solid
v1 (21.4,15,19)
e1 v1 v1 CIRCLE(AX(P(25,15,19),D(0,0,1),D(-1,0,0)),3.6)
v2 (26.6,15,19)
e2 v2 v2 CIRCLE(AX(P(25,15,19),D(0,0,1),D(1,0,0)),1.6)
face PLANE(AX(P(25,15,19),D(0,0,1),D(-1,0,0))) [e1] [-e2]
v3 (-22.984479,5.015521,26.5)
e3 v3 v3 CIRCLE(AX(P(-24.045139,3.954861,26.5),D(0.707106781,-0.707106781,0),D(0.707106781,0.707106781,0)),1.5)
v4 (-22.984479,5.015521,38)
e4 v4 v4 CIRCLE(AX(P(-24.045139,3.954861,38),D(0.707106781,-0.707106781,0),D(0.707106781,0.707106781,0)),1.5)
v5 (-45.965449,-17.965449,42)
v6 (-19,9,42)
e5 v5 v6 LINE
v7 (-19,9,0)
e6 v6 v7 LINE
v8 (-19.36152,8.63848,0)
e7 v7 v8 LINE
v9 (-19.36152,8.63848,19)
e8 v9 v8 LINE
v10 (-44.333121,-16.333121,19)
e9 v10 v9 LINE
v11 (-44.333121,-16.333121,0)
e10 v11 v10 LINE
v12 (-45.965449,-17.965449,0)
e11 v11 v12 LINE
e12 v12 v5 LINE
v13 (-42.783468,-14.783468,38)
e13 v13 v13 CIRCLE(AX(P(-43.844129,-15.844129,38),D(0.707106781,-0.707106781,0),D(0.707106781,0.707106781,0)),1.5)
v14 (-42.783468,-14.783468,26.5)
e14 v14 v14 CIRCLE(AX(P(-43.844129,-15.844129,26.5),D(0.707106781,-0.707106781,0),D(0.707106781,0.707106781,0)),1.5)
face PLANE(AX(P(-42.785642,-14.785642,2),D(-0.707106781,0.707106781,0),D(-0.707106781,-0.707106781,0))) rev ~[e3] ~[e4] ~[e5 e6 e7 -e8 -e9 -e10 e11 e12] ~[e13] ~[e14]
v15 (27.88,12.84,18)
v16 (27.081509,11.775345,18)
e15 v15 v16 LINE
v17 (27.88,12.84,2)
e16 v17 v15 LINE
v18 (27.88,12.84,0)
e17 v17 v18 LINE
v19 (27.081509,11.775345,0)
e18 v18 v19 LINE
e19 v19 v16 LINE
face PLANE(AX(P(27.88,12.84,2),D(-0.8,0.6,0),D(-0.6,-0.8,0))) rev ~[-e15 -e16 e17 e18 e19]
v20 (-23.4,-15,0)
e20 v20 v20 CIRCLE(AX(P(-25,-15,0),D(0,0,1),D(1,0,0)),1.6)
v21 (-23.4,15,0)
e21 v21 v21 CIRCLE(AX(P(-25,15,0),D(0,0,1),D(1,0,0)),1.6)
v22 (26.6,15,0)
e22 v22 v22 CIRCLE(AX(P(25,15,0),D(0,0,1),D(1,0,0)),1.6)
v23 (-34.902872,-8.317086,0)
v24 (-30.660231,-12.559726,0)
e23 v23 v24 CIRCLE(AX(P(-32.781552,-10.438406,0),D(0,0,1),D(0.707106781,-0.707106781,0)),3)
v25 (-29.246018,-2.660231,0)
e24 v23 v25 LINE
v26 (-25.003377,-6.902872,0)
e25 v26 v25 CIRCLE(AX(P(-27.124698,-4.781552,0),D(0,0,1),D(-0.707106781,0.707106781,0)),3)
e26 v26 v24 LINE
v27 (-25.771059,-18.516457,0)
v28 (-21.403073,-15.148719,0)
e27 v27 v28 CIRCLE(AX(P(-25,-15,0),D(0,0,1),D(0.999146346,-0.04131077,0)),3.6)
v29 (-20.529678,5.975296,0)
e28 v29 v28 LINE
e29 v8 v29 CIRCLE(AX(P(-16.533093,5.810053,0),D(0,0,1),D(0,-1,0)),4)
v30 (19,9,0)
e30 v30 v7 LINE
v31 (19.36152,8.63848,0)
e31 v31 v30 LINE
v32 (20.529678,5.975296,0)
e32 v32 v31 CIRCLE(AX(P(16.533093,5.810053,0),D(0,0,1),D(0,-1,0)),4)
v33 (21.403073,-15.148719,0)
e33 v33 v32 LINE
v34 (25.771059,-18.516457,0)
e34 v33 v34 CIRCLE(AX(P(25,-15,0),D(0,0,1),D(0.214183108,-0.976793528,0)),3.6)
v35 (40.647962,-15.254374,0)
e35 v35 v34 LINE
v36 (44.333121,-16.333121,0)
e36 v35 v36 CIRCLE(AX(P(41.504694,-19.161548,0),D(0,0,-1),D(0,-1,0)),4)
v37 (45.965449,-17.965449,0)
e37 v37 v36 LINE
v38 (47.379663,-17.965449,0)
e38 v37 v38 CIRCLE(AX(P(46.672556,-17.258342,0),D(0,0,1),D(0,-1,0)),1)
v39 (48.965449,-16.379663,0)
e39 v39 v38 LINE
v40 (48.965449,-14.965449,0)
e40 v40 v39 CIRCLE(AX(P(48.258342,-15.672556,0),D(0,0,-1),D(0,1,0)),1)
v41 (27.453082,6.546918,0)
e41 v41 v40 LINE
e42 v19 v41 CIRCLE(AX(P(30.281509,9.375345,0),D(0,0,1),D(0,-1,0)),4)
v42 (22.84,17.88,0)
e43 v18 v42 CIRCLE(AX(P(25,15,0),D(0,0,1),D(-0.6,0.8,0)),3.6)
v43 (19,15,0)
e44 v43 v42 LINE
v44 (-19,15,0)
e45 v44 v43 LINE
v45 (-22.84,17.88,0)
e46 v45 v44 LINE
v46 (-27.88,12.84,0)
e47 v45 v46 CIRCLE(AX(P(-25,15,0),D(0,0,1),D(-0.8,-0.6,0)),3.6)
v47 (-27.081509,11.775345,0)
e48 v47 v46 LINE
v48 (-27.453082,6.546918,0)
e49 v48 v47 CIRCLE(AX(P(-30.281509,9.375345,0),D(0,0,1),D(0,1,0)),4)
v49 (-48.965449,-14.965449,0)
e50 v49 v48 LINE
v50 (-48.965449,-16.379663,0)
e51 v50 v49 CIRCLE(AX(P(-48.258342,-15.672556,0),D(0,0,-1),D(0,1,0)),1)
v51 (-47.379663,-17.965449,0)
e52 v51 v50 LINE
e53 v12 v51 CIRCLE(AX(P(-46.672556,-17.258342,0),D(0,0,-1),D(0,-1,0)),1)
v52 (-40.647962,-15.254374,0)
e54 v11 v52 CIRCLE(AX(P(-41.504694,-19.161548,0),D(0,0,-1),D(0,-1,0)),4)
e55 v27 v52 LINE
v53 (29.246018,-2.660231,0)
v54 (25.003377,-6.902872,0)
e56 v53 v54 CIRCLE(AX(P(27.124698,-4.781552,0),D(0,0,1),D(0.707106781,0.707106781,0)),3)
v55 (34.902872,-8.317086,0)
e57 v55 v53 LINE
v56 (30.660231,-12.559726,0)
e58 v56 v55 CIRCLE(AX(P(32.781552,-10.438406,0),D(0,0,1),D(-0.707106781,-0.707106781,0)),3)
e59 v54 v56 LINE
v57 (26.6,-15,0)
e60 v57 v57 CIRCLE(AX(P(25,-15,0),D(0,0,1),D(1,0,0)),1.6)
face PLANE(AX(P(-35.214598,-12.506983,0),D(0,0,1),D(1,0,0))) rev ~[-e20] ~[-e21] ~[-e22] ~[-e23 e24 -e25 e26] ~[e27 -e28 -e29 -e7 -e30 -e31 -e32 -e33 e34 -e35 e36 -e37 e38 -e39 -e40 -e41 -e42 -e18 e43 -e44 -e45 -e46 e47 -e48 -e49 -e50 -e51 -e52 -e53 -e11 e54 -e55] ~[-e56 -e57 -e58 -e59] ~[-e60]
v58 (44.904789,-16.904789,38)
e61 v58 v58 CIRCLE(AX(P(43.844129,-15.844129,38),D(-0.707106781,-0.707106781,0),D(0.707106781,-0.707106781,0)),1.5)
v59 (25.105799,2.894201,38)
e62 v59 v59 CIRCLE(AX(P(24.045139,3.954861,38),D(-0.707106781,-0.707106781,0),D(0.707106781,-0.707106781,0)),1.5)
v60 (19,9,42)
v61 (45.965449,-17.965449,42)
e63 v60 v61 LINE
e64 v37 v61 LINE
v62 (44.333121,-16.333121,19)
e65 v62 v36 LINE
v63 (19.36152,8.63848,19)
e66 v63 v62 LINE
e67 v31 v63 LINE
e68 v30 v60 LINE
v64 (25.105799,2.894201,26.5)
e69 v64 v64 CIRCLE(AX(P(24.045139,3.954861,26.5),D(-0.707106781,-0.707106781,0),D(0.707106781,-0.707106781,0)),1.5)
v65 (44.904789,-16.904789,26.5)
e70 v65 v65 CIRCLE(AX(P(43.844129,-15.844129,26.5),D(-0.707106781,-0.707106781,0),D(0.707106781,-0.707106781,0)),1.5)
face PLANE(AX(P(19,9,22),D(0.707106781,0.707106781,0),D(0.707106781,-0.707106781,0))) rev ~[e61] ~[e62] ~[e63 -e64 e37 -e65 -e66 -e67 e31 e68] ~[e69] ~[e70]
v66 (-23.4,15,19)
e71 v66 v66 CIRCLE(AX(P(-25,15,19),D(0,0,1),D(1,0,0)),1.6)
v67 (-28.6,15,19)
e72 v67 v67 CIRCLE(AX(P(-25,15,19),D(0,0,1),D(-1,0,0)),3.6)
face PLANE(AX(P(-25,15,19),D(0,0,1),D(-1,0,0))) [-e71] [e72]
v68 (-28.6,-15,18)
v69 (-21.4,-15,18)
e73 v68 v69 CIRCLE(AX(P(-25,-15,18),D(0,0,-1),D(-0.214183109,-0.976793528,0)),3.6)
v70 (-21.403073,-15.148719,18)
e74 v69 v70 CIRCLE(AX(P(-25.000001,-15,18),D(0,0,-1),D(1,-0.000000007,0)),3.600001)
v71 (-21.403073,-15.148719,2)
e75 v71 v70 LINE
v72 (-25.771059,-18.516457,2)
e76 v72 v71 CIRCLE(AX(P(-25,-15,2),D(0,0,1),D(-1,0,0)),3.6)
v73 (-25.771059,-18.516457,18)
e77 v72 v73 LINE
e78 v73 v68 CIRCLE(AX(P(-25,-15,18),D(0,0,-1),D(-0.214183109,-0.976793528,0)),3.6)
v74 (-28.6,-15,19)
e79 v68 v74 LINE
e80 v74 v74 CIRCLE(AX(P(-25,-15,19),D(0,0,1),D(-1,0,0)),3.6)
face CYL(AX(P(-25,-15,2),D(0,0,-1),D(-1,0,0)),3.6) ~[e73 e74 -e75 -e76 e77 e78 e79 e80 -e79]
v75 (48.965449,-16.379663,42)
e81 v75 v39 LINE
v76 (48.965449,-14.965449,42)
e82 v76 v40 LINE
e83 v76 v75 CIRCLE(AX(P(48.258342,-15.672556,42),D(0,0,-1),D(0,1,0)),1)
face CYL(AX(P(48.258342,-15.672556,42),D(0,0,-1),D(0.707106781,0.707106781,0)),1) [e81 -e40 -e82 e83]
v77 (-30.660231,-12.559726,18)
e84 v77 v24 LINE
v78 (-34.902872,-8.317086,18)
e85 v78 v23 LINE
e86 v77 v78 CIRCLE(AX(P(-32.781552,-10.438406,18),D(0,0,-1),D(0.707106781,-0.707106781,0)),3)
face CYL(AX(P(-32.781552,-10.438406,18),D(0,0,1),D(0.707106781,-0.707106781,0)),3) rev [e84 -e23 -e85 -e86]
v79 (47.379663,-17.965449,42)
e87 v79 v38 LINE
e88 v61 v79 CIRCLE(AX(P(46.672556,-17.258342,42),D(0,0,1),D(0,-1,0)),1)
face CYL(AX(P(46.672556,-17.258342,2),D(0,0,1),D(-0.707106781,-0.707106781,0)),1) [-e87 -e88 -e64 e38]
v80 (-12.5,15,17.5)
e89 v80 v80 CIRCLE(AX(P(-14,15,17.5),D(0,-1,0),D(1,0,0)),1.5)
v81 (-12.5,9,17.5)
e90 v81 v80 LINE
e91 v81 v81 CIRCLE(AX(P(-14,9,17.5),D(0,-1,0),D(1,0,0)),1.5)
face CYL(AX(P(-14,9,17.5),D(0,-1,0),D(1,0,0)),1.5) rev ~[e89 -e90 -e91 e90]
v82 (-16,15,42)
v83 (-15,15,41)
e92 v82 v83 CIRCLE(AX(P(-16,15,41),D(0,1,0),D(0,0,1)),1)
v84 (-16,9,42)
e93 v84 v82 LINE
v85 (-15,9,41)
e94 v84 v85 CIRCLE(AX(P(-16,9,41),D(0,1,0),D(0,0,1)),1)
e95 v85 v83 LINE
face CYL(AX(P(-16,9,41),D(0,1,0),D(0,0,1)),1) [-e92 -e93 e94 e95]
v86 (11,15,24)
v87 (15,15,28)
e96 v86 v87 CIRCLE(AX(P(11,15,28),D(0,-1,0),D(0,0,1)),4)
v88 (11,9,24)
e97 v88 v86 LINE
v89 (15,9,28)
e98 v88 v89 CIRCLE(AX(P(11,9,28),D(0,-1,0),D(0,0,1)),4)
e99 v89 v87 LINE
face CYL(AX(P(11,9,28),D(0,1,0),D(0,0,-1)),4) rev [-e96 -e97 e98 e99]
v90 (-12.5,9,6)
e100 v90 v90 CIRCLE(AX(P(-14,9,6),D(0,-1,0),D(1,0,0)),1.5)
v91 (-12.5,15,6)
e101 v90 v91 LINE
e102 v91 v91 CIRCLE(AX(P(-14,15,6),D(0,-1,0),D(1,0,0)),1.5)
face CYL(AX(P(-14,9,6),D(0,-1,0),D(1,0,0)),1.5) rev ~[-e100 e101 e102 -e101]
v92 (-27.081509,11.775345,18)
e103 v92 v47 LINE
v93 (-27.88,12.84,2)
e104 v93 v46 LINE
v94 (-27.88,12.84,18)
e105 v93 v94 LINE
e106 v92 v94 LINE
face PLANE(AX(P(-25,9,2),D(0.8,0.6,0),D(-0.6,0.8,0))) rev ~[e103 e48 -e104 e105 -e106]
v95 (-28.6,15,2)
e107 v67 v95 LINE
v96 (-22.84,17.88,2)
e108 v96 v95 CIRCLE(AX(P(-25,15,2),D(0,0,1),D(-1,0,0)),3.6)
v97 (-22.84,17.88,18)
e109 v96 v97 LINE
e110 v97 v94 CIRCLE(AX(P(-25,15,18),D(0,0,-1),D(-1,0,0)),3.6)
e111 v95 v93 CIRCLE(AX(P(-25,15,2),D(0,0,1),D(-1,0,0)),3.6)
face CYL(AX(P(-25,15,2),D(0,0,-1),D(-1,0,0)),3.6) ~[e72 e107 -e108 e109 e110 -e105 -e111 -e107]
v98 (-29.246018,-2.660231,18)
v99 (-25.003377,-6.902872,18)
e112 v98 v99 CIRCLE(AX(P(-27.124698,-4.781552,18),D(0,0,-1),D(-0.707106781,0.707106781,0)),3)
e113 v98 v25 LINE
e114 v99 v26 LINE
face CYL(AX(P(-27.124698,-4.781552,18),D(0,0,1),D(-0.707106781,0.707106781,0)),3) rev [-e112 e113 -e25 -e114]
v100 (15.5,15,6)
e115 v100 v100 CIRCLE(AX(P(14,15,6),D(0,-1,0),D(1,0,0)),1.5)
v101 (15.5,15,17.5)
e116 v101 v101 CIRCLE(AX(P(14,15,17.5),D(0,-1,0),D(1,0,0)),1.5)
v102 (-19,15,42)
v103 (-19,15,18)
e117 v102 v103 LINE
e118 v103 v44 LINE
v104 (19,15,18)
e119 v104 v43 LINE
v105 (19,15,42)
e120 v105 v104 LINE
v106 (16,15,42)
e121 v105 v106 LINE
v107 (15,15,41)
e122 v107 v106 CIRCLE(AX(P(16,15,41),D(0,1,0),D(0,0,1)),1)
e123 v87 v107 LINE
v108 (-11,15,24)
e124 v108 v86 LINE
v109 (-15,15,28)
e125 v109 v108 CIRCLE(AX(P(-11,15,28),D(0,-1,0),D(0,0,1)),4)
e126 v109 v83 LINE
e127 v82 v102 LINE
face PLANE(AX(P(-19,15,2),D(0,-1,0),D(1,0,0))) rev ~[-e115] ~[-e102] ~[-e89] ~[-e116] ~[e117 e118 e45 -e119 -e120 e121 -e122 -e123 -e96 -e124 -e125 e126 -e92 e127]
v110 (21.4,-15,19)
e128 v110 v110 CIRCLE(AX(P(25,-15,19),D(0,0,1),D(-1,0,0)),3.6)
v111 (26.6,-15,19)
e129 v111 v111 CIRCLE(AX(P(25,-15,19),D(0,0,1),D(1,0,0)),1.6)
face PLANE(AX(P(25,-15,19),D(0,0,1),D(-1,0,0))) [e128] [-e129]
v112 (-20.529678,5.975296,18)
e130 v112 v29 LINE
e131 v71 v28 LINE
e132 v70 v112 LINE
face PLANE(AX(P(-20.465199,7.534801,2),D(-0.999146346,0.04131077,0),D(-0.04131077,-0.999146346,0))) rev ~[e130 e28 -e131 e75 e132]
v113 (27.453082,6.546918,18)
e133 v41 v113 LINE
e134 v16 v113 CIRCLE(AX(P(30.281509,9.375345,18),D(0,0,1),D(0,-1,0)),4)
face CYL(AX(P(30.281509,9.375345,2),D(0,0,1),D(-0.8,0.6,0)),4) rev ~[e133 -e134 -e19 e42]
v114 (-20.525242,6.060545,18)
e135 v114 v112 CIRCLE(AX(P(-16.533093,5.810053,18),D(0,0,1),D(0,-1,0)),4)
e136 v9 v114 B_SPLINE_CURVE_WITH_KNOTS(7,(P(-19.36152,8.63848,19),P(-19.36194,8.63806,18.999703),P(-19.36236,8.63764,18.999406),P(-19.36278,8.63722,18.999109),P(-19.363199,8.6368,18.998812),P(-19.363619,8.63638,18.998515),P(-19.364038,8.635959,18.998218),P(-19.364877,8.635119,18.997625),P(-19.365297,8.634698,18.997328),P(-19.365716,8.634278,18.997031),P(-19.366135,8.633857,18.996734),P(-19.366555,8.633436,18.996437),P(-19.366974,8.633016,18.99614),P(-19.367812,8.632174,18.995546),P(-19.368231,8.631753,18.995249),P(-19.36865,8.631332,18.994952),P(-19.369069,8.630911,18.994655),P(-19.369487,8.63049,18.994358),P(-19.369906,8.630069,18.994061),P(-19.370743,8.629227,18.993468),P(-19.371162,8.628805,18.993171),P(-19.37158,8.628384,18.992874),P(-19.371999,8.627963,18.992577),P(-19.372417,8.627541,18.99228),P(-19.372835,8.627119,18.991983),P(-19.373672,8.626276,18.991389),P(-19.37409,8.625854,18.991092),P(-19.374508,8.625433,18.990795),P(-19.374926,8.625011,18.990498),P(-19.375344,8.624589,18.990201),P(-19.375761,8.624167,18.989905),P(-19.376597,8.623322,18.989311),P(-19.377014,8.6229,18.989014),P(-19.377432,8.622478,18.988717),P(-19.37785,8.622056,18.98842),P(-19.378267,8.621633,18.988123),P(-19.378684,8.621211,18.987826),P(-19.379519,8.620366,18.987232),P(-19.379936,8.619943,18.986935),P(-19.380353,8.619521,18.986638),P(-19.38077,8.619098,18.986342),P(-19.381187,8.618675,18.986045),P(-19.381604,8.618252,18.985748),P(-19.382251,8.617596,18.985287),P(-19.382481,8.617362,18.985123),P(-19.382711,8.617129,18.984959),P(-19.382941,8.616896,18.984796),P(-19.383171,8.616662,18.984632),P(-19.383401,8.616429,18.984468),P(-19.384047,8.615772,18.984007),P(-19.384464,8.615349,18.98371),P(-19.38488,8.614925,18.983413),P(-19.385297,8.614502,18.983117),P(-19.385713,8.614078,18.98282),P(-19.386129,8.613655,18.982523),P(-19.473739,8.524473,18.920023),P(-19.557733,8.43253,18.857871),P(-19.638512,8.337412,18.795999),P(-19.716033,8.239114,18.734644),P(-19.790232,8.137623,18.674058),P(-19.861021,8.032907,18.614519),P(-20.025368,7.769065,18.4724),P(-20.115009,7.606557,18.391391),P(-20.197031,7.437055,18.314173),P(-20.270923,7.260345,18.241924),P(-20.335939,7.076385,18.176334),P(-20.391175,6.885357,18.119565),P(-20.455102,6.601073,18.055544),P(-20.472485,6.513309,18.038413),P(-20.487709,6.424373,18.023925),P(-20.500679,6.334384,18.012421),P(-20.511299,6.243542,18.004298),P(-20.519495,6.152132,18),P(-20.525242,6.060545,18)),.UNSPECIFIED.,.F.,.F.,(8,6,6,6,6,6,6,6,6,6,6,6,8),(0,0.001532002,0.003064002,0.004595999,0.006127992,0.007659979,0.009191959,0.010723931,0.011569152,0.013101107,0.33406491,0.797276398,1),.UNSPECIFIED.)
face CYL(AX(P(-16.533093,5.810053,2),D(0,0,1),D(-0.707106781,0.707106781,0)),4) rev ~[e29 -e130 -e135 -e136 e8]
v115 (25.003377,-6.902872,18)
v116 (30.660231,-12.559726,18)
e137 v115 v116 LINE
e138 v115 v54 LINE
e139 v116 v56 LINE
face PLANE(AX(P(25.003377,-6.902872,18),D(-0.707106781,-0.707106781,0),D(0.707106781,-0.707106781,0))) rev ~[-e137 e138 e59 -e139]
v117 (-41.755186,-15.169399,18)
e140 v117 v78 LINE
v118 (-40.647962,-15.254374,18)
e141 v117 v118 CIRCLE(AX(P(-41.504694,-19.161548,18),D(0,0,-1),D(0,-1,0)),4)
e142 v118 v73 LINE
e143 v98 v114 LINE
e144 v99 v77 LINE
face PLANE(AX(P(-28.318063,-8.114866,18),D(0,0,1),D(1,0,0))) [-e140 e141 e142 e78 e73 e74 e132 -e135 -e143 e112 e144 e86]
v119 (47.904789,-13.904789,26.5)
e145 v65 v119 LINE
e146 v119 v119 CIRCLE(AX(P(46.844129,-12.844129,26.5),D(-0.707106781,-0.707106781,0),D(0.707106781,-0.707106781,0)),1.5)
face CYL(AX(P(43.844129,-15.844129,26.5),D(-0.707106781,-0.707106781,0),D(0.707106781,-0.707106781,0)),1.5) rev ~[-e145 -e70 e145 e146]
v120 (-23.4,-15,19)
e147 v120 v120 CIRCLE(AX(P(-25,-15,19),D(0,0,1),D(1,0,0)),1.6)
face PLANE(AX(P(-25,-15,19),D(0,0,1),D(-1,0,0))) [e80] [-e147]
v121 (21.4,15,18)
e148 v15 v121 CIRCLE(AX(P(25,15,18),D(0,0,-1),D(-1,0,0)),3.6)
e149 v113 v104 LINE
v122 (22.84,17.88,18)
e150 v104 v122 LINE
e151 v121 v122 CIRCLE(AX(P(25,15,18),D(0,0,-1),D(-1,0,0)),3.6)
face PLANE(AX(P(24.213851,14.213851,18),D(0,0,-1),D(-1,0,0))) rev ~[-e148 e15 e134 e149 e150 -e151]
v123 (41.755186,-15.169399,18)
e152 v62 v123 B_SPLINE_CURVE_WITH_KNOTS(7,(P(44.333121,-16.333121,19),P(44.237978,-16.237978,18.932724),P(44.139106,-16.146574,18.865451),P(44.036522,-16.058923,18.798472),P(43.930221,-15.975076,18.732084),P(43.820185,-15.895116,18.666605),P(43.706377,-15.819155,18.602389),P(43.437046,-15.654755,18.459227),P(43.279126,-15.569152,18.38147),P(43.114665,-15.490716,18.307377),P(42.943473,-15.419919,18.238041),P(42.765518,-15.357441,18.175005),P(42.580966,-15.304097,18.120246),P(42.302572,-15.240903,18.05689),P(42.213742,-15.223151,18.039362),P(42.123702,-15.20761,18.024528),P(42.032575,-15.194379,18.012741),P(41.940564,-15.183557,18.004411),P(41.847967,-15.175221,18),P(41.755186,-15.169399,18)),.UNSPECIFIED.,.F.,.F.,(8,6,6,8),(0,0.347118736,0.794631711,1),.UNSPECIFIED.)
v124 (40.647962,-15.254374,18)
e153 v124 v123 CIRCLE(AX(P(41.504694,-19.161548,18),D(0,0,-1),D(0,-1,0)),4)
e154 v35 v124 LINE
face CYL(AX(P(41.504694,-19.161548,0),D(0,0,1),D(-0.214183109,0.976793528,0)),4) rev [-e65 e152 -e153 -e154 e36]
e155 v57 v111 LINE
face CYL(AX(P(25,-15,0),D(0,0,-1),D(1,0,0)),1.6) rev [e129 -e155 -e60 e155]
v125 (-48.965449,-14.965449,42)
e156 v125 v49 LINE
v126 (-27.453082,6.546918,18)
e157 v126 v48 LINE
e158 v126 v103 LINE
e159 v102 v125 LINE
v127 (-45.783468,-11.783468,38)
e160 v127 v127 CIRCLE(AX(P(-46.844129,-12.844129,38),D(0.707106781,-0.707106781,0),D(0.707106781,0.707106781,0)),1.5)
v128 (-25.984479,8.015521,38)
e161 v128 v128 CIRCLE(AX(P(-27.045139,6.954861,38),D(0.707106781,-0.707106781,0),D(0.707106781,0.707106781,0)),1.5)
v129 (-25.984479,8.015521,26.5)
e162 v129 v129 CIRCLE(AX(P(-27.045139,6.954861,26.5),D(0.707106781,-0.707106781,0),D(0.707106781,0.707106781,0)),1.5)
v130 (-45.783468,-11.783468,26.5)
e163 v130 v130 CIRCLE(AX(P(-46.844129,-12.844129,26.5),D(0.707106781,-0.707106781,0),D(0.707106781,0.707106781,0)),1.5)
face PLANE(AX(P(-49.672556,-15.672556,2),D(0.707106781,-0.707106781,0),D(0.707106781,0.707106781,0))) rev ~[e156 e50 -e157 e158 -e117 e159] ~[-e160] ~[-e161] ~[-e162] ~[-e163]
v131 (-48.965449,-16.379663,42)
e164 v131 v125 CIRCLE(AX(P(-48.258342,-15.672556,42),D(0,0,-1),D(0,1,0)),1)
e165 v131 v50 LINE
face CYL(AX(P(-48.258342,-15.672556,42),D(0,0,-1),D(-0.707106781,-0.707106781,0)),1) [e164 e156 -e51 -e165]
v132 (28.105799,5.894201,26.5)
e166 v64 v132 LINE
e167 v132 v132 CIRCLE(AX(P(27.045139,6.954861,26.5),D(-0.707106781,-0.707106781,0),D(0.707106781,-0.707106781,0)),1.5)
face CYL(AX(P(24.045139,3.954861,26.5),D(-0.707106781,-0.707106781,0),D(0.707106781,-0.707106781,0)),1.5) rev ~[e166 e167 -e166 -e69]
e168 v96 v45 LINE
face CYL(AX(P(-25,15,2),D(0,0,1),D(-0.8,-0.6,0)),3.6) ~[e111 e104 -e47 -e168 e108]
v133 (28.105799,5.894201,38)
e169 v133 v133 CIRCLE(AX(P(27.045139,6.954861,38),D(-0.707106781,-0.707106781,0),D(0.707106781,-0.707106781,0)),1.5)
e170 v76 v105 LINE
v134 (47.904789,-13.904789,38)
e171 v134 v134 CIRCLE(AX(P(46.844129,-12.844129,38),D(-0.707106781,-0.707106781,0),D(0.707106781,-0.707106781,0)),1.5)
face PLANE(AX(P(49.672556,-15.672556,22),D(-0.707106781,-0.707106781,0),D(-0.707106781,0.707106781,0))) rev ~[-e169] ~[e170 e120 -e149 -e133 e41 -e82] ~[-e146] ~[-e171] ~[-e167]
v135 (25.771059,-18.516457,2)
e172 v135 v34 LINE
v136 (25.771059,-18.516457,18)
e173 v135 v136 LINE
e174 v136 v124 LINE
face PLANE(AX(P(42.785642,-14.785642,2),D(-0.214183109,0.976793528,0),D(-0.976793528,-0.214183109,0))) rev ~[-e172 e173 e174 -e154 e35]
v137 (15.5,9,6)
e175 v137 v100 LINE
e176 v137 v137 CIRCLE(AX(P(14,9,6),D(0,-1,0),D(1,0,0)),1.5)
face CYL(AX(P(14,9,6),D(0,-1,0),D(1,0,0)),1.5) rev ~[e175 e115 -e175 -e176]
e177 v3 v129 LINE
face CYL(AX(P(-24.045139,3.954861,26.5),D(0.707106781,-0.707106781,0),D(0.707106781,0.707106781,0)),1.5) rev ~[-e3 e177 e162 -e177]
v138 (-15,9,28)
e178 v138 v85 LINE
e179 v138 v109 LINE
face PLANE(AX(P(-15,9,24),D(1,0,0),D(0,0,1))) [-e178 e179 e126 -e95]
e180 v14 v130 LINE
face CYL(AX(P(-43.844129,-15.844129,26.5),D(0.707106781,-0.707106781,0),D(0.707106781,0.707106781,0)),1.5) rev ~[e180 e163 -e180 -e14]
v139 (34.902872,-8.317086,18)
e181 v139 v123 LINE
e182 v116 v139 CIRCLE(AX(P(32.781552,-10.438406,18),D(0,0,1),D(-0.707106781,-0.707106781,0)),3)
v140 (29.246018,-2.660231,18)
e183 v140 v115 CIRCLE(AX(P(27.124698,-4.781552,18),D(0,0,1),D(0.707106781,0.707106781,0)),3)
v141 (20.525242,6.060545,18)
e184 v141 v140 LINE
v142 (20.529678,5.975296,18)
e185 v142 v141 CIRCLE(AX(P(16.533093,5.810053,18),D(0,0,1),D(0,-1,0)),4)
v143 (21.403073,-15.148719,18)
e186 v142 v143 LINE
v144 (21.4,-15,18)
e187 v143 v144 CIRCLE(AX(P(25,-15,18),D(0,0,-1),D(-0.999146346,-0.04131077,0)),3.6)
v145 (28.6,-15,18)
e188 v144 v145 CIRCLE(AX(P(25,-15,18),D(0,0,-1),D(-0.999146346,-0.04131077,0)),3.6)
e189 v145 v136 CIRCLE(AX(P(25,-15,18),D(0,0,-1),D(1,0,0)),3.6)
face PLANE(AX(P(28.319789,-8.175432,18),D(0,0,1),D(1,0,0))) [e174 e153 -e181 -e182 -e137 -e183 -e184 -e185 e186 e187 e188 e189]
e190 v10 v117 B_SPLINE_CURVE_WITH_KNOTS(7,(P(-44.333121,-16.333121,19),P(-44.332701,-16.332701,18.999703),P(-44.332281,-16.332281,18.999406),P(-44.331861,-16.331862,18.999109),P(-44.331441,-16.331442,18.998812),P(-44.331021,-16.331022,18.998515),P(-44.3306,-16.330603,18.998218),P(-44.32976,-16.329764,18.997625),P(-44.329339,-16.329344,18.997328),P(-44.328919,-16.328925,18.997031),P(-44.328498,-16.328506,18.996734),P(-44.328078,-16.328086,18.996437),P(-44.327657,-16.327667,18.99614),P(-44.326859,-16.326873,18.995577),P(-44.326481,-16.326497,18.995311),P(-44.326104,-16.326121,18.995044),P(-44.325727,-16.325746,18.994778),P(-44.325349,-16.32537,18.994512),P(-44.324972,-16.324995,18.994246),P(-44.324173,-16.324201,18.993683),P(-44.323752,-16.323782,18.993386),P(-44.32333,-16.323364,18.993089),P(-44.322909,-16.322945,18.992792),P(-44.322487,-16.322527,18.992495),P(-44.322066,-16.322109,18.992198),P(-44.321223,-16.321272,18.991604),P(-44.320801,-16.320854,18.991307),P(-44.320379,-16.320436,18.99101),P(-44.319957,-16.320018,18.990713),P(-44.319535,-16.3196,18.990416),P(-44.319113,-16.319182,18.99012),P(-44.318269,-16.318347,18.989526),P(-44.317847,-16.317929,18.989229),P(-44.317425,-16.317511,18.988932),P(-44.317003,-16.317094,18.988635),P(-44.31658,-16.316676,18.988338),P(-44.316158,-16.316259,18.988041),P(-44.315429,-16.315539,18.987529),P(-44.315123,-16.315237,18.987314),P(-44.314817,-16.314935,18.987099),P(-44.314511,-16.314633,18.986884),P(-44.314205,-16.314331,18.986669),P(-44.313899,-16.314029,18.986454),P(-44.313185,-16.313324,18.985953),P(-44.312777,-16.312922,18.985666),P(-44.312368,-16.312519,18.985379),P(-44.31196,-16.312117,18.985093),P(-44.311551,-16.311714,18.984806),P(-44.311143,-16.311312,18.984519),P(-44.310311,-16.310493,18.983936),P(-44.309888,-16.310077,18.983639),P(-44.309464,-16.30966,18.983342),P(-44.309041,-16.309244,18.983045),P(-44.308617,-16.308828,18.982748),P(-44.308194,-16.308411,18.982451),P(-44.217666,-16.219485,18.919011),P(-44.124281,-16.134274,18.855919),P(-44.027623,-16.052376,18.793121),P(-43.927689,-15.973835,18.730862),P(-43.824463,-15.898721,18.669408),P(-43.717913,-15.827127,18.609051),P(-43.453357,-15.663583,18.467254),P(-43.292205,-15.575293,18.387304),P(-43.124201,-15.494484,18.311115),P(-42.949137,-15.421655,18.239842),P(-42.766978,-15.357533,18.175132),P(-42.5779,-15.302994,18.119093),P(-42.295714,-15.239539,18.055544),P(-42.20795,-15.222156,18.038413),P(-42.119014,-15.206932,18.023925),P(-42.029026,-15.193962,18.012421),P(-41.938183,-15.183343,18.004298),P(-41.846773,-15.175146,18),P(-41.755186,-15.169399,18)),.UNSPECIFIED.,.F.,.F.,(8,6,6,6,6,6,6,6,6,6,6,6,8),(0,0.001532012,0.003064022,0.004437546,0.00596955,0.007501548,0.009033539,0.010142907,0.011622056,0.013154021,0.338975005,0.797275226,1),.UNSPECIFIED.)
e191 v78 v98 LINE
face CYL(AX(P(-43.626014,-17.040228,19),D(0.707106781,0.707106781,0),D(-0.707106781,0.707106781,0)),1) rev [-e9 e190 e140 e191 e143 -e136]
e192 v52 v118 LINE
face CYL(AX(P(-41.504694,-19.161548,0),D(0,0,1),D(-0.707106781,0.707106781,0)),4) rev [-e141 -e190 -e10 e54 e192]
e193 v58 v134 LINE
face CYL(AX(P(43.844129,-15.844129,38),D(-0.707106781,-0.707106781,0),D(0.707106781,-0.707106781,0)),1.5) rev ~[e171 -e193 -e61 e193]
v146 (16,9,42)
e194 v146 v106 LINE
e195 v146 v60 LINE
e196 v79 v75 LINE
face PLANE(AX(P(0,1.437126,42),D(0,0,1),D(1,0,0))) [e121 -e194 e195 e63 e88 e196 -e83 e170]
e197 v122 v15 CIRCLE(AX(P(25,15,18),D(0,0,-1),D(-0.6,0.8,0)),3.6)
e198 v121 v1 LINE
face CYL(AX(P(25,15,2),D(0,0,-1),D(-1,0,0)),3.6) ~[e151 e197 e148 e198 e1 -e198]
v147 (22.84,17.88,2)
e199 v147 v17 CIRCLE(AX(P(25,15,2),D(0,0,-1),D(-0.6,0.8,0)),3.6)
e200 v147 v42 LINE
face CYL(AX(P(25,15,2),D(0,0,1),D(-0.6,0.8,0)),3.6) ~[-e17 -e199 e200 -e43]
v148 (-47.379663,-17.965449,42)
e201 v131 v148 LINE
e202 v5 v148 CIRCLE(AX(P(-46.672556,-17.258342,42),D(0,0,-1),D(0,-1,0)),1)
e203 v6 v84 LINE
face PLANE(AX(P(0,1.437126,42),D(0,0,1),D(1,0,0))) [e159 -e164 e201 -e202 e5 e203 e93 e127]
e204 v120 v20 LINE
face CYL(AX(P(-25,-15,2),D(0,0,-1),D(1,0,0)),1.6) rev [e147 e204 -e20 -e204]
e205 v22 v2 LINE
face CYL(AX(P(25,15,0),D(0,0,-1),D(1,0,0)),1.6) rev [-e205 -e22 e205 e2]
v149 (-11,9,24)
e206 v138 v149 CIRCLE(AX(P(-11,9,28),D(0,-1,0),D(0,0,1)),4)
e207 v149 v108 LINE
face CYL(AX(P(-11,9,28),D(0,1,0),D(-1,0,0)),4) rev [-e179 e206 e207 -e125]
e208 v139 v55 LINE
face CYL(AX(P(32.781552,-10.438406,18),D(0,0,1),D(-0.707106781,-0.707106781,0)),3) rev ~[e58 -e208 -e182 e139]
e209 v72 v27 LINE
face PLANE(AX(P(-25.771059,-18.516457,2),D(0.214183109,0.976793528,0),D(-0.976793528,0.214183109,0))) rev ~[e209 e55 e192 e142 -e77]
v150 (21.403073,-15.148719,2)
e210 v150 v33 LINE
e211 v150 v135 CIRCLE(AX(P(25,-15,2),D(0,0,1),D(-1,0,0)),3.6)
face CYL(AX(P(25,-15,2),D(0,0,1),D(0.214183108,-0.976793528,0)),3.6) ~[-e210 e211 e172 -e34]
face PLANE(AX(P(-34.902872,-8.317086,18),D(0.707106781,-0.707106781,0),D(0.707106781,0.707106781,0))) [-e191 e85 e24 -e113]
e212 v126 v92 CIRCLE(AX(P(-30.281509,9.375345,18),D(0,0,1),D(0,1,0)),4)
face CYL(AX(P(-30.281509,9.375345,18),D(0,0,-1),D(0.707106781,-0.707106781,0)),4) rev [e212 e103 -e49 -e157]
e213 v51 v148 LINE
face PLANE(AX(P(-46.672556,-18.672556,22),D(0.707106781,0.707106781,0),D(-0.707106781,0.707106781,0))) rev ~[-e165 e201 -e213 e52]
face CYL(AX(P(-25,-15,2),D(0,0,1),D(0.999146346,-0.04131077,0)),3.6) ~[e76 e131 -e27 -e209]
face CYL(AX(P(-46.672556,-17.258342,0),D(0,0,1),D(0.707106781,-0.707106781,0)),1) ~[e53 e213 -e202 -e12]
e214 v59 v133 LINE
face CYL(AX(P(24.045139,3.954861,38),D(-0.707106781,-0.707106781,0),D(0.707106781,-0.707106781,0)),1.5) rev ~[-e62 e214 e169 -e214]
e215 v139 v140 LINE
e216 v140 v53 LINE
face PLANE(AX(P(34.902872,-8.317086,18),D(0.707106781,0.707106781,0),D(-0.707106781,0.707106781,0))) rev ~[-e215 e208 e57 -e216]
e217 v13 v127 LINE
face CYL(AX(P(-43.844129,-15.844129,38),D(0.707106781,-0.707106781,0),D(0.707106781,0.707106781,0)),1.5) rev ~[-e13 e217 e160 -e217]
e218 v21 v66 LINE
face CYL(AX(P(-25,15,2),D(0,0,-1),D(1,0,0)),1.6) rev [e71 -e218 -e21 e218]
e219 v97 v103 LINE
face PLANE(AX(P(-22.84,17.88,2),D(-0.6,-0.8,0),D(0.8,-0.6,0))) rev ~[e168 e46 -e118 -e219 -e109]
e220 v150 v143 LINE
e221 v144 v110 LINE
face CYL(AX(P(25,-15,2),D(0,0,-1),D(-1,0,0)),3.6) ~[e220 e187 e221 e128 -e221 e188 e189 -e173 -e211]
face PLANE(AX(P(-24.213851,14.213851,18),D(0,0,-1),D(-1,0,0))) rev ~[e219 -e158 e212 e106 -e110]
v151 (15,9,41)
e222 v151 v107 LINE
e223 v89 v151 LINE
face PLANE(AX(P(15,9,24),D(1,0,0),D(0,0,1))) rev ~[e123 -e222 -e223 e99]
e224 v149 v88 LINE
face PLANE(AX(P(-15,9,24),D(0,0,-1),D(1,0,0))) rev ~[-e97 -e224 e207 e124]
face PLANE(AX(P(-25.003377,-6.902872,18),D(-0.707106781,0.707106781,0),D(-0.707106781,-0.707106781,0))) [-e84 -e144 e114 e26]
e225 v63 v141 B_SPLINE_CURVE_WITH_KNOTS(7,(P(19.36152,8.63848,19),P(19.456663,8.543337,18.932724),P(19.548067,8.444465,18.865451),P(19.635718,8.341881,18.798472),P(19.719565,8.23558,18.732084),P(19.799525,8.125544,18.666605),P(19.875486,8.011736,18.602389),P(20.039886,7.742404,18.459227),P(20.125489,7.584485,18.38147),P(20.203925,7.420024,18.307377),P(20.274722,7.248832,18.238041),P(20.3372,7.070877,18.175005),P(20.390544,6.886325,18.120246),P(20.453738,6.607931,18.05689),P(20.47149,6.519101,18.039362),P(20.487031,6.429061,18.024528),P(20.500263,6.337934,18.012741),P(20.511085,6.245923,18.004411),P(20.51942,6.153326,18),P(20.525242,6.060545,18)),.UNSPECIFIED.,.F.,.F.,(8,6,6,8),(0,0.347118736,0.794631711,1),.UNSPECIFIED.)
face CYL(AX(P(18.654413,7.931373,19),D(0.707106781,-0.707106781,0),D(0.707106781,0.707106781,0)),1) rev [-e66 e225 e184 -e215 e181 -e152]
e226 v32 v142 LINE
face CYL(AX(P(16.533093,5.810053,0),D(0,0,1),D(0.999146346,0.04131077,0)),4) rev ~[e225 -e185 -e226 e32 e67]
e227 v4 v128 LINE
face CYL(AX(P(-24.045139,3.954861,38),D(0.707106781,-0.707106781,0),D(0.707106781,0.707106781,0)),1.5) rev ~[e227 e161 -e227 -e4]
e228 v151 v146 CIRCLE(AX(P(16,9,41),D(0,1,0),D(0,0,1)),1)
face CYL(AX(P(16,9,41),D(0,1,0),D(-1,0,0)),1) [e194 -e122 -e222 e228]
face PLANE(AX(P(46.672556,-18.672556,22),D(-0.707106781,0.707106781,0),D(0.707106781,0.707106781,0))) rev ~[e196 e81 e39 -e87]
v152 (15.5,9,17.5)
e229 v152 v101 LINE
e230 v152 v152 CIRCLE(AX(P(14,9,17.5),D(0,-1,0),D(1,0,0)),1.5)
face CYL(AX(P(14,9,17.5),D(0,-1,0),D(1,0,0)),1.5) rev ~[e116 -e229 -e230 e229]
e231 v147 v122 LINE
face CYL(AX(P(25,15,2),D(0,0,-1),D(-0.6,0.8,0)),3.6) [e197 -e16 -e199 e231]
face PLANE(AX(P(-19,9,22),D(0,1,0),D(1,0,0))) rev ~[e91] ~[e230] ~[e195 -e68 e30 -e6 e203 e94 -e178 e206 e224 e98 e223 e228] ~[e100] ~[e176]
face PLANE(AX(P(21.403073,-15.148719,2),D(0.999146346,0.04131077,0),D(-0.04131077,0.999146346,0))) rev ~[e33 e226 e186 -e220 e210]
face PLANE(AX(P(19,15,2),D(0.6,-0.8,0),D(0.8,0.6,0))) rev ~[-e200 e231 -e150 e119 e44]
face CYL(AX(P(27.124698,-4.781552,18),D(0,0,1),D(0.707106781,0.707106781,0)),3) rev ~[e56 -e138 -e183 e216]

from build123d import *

# Parameters (mm, degrees)
ESQUISSE1_W             = 58
ESQUISSE1_H             = 38
ESQUISSE1_R             = 1.6
BOSS_EXTRU_1_DEPTH      = 2
BOSS_EXTRU_2_DEPTH      = 20
BOSS_EXTRU_3_DEPTH      = 20
ENL_V_MAT_EXTRU_1_DEPTH = 20
ESQUISSE6_R             = 1.5
ENL_V_MAT_EXTRU_2_DEPTH = 20
ESQUISSE7_R             = 1.5
ENL_V_MAT_EXTRU_3_DEPTH = 20
ESQUISSE8_R             = 1.5
ENL_V_MAT_EXTRU_4_DEPTH = 20
BOSS_EXTRU_5_DEPTH      = 22
ESQUISSE10_W            = 30
ESQUISSE10_H            = 18
ENL_V_MAT_EXTRU_5_DEPTH = 20
ESQUISSE11_R            = 3.6
ESQUISSE11_R_2          = 1.6
BOSS_EXTRU_6_DEPTH      = 17
BOSS_EXTRU_7_DEPTH      = 2
ESQUISSE13_R            = 1.6
BOSS_EXTRU_8_DEPTH      = 16
ENL_V_MAT_EXTRU_6_DEPTH = 16
CONG_1_R                = 4
CONG_2_R                = 1
CONG_3_R                = 1
CONG_4_R                = 1
ENL_V_MAT_EXTRU_7_DEPTH = 58.864879499


with BuildPart() as part:
    # Esquisse1 → Boss.-Extru.1 (new body)
    with BuildSketch(Plane.XY):
        Rectangle(ESQUISSE1_W, ESQUISSE1_H)
        with Locations((-25, 15)):
            Circle(ESQUISSE1_R, mode=Mode.SUBTRACT)
        with Locations((-25, -15)):
            Circle(ESQUISSE1_R, mode=Mode.SUBTRACT)
        with Locations((25, 15)):
            Circle(ESQUISSE1_R, mode=Mode.SUBTRACT)
        with Locations((25, -15)):
            Circle(ESQUISSE1_R, mode=Mode.SUBTRACT)
    extrude(amount=BOSS_EXTRU_1_DEPTH)

    # Esquisse2 → Boss.-Extru.2 (add)
    with BuildSketch(Plane.XY.offset(2)):
        Polygon((-29, -1), (-19, 9), (19, 9), (29, -1), (29, 5), (19, 15), (0, 15), (-19, 15), (-29, 5), align=None)
    extrude(amount=BOSS_EXTRU_2_DEPTH)

    # Esquisse3 → Boss.-Extru.3 (add)
    with BuildSketch(Plane.XY.offset(22)):
        Polygon((-19, 15), (-49.672555794, -15.672555794), (-46.672555794, -18.672555794), (-19, 9), (19, 9), (46.672555794, -18.672555794), (49.672555794, -15.672555794), (19, 15), align=None)
    extrude(amount=BOSS_EXTRU_3_DEPTH)

    # Esquisse4 → Enlèv. mat.-Extru.1 (cut)
    with BuildSketch(Plane.XY.offset(2)):
        with BuildLine():
            Line((-15, 9), (15, 9))
            ThreePointArc((15, 9), (19, 5), (15, 1))
            Line((15, 1), (-15, 1))
            ThreePointArc((-15, 1), (-19, 5), (-15, 9))
        make_face()
    extrude(amount=-ENL_V_MAT_EXTRU_1_DEPTH, mode=Mode.SUBTRACT)

    # Esquisse6 → Enlèv. mat.-Extru.2 (cut)
    with BuildSketch(Plane(origin=(-14, 14, 0), x_dir=(0, 0, -1), z_dir=(0.7071067811865465, -0.7071067811865487, 0))):
        with Locations(Location((-38, -42.205971521, 0), (0, 0, 90))):
            Circle(ESQUISSE6_R)
        with Locations(Location((-26.5, -14.205971521, 0), (0, 0, 90))):
            Circle(ESQUISSE6_R)
        with Locations(Location((-38, -14.205971521, 0), (0, 0, 90))):
            Circle(ESQUISSE6_R)
        with Locations(Location((-26.5, -42.205971521, 0), (0, 0, 90))):
            Circle(ESQUISSE6_R)
    extrude(amount=-ENL_V_MAT_EXTRU_2_DEPTH, mode=Mode.SUBTRACT)

    # Esquisse7 → Enlèv. mat.-Extru.3 (cut)
    with BuildSketch(Plane(origin=(14, 14, 0), x_dir=(0, 0, 1), z_dir=(-0.7071067811865464, -0.7071067811865487, 0))):
        with Locations(Location((38, -14.205971521, 0), (0, 0, 270))):
            Circle(ESQUISSE7_R)
        with Locations(Location((38, -42.205971521, 0), (0, 0, 270))):
            Circle(ESQUISSE7_R)
        with Locations(Location((26.5, -42.205971521, 0), (0, 0, 270))):
            Circle(ESQUISSE7_R)
        with Locations(Location((26.5, -14.205971521, 0), (0, 0, 270))):
            Circle(ESQUISSE7_R)
    extrude(amount=-ENL_V_MAT_EXTRU_3_DEPTH, mode=Mode.SUBTRACT)

    # Esquisse8 → Enlèv. mat.-Extru.4 (cut)
    with BuildSketch(Plane.XZ.offset(-9)):
        with Locations((-14, 17.5)):
            Circle(ESQUISSE8_R)
        with Locations((14, 17.5)):
            Circle(ESQUISSE8_R)
        with Locations((14, 6)):
            Circle(ESQUISSE8_R)
        with Locations((-14, 6)):
            Circle(ESQUISSE8_R)
    extrude(amount=-ENL_V_MAT_EXTRU_4_DEPTH, mode=Mode.SUBTRACT)

    # Esquisse9 → Boss.-Extru.5 (add)
    with BuildSketch(Plane(origin=(0, 0, 22), x_dir=(-1, 0, 0), z_dir=(0, 0, -1))):
        Polygon((49.672555794, -15.672555794), (29, 5), (29, -1), (46.672555794, -18.672555794), align=None)
        Polygon((-46.672555794, -18.672555794), (-29, -1), (-29, 5), (-49.672555794, -15.672555794), align=None)
    extrude(amount=BOSS_EXTRU_5_DEPTH)

    # Esquisse10 → Enlèv. mat.-Extru.5 (cut)
    with BuildSketch(Plane.XZ.offset(-9)):
        with Locations((0, 33)):
            Rectangle(ESQUISSE10_W, ESQUISSE10_H)
    extrude(amount=-ENL_V_MAT_EXTRU_5_DEPTH, mode=Mode.SUBTRACT)

    # Esquisse11 → Boss.-Extru.6 (add)
    with BuildSketch(Plane.XY.offset(2)):
        with Locations(Location((-25, -15, 0), (0, 0, 180))):
            Circle(ESQUISSE11_R)
        with Locations((-25, -15)):
            Circle(ESQUISSE11_R_2, mode=Mode.SUBTRACT)
        with Locations(Location((25, -15, 0), (0, 0, 180))):
            Circle(ESQUISSE11_R)
        with Locations((25, -15)):
            Circle(ESQUISSE11_R_2, mode=Mode.SUBTRACT)
        with Locations(Location((25, 15, 0), (0, 0, 180))):
            Circle(ESQUISSE11_R)
        with Locations((25, 15)):
            Circle(ESQUISSE11_R_2, mode=Mode.SUBTRACT)
        with Locations(Location((-25, 15, 0), (0, 0, 180))):
            Circle(ESQUISSE11_R)
        with Locations((-25, 15)):
            Circle(ESQUISSE11_R_2, mode=Mode.SUBTRACT)
    extrude(amount=BOSS_EXTRU_6_DEPTH)

    # Esquisse12 → Boss.-Extru.7 (add)
    with BuildSketch(Plane(origin=(0, 0, 0), x_dir=(-1, 0, 0), z_dir=(0, 0, -1))):
        Polygon((46.672555794, -18.672555794), (29, -19), (29, -1), align=None)
        Polygon((-29, -19), (-46.672555794, -18.672555794), (-29, -1), align=None)
        Polygon((29, 19), (49.672555794, -15.672555794), (29, 5), align=None)
        Polygon((-29, 19), (-29, 5), (-49.672555794, -15.672555794), align=None)
    extrude(amount=-BOSS_EXTRU_7_DEPTH)

    # Esquisse13 → Boss.-Extru.8 (add)
    with BuildSketch(Plane.XY.offset(2)):
        with BuildLine():
            ThreePointArc((-27.88, 12.84), (-27.545584412, 17.545584412), (-22.84, 17.88))
            Line((-22.84, 17.88), (-19, 15))
            Line((-19, 15), (-25, 9))
            Line((-25, 9), (-27.88, 12.84))
        make_face()
        with Locations((-25, 15)):
            Circle(ESQUISSE13_R, mode=Mode.SUBTRACT)
        with BuildLine():
            ThreePointArc((-21.4, -15), (-21.400768371, -15.07437526), (-21.403073155, -15.148718771))
            Line((-21.403073155, -15.148718771), (-20.465198865, 7.534801135))
            Line((-20.465198865, 7.534801135), (-42.785641509, -14.785641509))
            Line((-42.785641509, -14.785641509), (-25.771059191, -18.5164567))
            ThreePointArc((-25.771059191, -18.5164567), (-27.256566741, -12.195021115), (-21.4, -15))
        make_face()
        with BuildLine():
            Line((25.771059191, -18.5164567), (42.785641509, -14.785641509))
            Line((42.785641509, -14.785641509), (20.465198865, 7.534801135))
            Line((20.465198865, 7.534801135), (21.403073155, -15.148718771))
            ThreePointArc((21.403073155, -15.148718771), (24.92562474, -11.400768371), (28.6, -15))
            ThreePointArc((28.6, -15), (27.804978885, -17.256566741), (25.771059191, -18.5164567))
        make_face()
        with BuildLine():
            Line((27.88, 12.84), (25, 9))
            Line((25, 9), (19, 15))
            Line((19, 15), (22.84, 17.88))
            ThreePointArc((22.84, 17.88), (27.545584412, 17.545584412), (27.88, 12.84))
        make_face()
        with Locations((25, 15)):
            Circle(ESQUISSE13_R, mode=Mode.SUBTRACT)
    extrude(amount=BOSS_EXTRU_8_DEPTH)

    # Esquisse14 → Enlèv. mat.-Extru.6 (cut)
    with BuildSketch(Plane.XY.offset(2)):
        with BuildLine():
            Line((49.672555794, -15.672555794), (29, 19))
            Line((29, 19), (-29, 19))
            Line((-29, 19), (-49.672555794, -15.672555794))
            Line((-49.672555794, -15.672555794), (-25, 9))
            Line((-25, 9), (-27.88, 12.84))
            ThreePointArc((-27.88, 12.84), (-27.545584412, 17.545584412), (-22.84, 17.88))
            Line((-22.84, 17.88), (-19, 15))
            Line((-19, 15), (19, 15))
            Line((19, 15), (22.84, 17.88))
            ThreePointArc((22.84, 17.88), (27.545584412, 17.545584412), (27.88, 12.84))
            Line((27.88, 12.84), (25, 9))
            Line((25, 9), (49.672555794, -15.672555794))
        make_face()
        with BuildLine():
            Line((-42.785641509, -14.785641509), (-46.672555794, -18.672555794))
            Line((-46.672555794, -18.672555794), (-29, -19))
            Line((-29, -19), (29, -19))
            Line((29, -19), (46.672555794, -18.672555794))
            Line((46.672555794, -18.672555794), (42.785641509, -14.785641509))
            Line((42.785641509, -14.785641509), (25.771059191, -18.5164567))
            ThreePointArc((25.771059191, -18.5164567), (22.80186518, -17.851000405), (21.403073155, -15.148718771))
            Line((21.403073155, -15.148718771), (20.465198865, 7.534801135))
            Line((20.465198865, 7.534801135), (19, 9))
            Line((19, 9), (15, 9))
            ThreePointArc((15, 9), (19, 5), (15, 1))
            Line((15, 1), (-15, 1))
            ThreePointArc((-15, 1), (-19, 5), (-15, 9))
            Line((-15, 9), (-19, 9))
            Line((-19, 9), (-20.465198865, 7.534801135))
            Line((-20.465198865, 7.534801135), (-21.403073155, -15.148718771))
            ThreePointArc((-21.403073155, -15.148718771), (-22.80186518, -17.851000405), (-25.771059191, -18.5164567))
            Line((-25.771059191, -18.5164567), (-42.785641509, -14.785641509))
        make_face()
    extrude(amount=-ENL_V_MAT_EXTRU_6_DEPTH, mode=Mode.SUBTRACT)

    # Congé1
    cong_1_edges = [part.edges().sort_by_distance(p)[0] for p in [
        (15, 12, 24),
        (-15, 12, 24),
        (-25, 9, 9),
        (-42.785641509, -14.785641509, 9),
        (-20.465198865, 7.534801135, 9),
        (20.465198865, 7.534801135, 9),
        (42.785641509, -14.785641509, 9),
        (25, 9, 10),
    ]]
    fillet(cong_1_edges, radius=CONG_1_R)

    # Congé2
    cong_2_edges = [part.edges().sort_by_distance(p)[0] for p in [
        (-49.672555794, -15.672555794, 21),
        (-46.672555794, -18.672555794, 21),
        (46.672555794, -18.672555794, 21),
        (49.672555794, -15.672555794, 21),
    ]]
    fillet(cong_2_edges, radius=CONG_2_R)

    # Congé3
    cong_3_edges = [part.edges().sort_by_distance(p)[0] for p in [
        (15, 12, 42),
        (-15, 12, 42),
    ]]
    fillet(cong_3_edges, radius=CONG_3_R)

    # Congé4
    cong_4_edges = [part.edges().sort_by_distance(p)[0] for p in [
        (-31.847320541, -3.847320541, 18),
        (31.847320541, -3.847320541, 18),
    ]]
    fillet(cong_4_edges, radius=CONG_4_R)

    # Esquisse15 → Enlèv. mat.-Extru.7 (cut, through all)
    with BuildSketch(Plane.XY.offset(18)):
        with BuildLine():
            Line((-34.902872138, -8.3170857), (-29.246017888, -2.660231451))
            ThreePointArc((-29.246017888, -2.660231451), (-25.003377201, -2.660231451), (-25.003377201, -6.902872138))
            Line((-25.003377201, -6.902872138), (-30.660231451, -12.559726387))
            ThreePointArc((-30.660231451, -12.559726387), (-34.902872138, -12.559726387), (-34.902872138, -8.3170857))
        make_face()
        with BuildLine():
            Line((34.902872138, -8.3170857), (29.246017888, -2.660231451))
            ThreePointArc((29.246017888, -2.660231451), (25.003377201, -2.660231451), (25.003377201, -6.902872138))
            Line((25.003377201, -6.902872138), (30.660231451, -12.559726387))
            ThreePointArc((30.660231451, -12.559726387), (34.902872138, -12.559726387), (34.902872138, -8.3170857))
        make_face()
    extrude(amount=-ENL_V_MAT_EXTRU_7_DEPTH, mode=Mode.SUBTRACT)


solid = part.part
